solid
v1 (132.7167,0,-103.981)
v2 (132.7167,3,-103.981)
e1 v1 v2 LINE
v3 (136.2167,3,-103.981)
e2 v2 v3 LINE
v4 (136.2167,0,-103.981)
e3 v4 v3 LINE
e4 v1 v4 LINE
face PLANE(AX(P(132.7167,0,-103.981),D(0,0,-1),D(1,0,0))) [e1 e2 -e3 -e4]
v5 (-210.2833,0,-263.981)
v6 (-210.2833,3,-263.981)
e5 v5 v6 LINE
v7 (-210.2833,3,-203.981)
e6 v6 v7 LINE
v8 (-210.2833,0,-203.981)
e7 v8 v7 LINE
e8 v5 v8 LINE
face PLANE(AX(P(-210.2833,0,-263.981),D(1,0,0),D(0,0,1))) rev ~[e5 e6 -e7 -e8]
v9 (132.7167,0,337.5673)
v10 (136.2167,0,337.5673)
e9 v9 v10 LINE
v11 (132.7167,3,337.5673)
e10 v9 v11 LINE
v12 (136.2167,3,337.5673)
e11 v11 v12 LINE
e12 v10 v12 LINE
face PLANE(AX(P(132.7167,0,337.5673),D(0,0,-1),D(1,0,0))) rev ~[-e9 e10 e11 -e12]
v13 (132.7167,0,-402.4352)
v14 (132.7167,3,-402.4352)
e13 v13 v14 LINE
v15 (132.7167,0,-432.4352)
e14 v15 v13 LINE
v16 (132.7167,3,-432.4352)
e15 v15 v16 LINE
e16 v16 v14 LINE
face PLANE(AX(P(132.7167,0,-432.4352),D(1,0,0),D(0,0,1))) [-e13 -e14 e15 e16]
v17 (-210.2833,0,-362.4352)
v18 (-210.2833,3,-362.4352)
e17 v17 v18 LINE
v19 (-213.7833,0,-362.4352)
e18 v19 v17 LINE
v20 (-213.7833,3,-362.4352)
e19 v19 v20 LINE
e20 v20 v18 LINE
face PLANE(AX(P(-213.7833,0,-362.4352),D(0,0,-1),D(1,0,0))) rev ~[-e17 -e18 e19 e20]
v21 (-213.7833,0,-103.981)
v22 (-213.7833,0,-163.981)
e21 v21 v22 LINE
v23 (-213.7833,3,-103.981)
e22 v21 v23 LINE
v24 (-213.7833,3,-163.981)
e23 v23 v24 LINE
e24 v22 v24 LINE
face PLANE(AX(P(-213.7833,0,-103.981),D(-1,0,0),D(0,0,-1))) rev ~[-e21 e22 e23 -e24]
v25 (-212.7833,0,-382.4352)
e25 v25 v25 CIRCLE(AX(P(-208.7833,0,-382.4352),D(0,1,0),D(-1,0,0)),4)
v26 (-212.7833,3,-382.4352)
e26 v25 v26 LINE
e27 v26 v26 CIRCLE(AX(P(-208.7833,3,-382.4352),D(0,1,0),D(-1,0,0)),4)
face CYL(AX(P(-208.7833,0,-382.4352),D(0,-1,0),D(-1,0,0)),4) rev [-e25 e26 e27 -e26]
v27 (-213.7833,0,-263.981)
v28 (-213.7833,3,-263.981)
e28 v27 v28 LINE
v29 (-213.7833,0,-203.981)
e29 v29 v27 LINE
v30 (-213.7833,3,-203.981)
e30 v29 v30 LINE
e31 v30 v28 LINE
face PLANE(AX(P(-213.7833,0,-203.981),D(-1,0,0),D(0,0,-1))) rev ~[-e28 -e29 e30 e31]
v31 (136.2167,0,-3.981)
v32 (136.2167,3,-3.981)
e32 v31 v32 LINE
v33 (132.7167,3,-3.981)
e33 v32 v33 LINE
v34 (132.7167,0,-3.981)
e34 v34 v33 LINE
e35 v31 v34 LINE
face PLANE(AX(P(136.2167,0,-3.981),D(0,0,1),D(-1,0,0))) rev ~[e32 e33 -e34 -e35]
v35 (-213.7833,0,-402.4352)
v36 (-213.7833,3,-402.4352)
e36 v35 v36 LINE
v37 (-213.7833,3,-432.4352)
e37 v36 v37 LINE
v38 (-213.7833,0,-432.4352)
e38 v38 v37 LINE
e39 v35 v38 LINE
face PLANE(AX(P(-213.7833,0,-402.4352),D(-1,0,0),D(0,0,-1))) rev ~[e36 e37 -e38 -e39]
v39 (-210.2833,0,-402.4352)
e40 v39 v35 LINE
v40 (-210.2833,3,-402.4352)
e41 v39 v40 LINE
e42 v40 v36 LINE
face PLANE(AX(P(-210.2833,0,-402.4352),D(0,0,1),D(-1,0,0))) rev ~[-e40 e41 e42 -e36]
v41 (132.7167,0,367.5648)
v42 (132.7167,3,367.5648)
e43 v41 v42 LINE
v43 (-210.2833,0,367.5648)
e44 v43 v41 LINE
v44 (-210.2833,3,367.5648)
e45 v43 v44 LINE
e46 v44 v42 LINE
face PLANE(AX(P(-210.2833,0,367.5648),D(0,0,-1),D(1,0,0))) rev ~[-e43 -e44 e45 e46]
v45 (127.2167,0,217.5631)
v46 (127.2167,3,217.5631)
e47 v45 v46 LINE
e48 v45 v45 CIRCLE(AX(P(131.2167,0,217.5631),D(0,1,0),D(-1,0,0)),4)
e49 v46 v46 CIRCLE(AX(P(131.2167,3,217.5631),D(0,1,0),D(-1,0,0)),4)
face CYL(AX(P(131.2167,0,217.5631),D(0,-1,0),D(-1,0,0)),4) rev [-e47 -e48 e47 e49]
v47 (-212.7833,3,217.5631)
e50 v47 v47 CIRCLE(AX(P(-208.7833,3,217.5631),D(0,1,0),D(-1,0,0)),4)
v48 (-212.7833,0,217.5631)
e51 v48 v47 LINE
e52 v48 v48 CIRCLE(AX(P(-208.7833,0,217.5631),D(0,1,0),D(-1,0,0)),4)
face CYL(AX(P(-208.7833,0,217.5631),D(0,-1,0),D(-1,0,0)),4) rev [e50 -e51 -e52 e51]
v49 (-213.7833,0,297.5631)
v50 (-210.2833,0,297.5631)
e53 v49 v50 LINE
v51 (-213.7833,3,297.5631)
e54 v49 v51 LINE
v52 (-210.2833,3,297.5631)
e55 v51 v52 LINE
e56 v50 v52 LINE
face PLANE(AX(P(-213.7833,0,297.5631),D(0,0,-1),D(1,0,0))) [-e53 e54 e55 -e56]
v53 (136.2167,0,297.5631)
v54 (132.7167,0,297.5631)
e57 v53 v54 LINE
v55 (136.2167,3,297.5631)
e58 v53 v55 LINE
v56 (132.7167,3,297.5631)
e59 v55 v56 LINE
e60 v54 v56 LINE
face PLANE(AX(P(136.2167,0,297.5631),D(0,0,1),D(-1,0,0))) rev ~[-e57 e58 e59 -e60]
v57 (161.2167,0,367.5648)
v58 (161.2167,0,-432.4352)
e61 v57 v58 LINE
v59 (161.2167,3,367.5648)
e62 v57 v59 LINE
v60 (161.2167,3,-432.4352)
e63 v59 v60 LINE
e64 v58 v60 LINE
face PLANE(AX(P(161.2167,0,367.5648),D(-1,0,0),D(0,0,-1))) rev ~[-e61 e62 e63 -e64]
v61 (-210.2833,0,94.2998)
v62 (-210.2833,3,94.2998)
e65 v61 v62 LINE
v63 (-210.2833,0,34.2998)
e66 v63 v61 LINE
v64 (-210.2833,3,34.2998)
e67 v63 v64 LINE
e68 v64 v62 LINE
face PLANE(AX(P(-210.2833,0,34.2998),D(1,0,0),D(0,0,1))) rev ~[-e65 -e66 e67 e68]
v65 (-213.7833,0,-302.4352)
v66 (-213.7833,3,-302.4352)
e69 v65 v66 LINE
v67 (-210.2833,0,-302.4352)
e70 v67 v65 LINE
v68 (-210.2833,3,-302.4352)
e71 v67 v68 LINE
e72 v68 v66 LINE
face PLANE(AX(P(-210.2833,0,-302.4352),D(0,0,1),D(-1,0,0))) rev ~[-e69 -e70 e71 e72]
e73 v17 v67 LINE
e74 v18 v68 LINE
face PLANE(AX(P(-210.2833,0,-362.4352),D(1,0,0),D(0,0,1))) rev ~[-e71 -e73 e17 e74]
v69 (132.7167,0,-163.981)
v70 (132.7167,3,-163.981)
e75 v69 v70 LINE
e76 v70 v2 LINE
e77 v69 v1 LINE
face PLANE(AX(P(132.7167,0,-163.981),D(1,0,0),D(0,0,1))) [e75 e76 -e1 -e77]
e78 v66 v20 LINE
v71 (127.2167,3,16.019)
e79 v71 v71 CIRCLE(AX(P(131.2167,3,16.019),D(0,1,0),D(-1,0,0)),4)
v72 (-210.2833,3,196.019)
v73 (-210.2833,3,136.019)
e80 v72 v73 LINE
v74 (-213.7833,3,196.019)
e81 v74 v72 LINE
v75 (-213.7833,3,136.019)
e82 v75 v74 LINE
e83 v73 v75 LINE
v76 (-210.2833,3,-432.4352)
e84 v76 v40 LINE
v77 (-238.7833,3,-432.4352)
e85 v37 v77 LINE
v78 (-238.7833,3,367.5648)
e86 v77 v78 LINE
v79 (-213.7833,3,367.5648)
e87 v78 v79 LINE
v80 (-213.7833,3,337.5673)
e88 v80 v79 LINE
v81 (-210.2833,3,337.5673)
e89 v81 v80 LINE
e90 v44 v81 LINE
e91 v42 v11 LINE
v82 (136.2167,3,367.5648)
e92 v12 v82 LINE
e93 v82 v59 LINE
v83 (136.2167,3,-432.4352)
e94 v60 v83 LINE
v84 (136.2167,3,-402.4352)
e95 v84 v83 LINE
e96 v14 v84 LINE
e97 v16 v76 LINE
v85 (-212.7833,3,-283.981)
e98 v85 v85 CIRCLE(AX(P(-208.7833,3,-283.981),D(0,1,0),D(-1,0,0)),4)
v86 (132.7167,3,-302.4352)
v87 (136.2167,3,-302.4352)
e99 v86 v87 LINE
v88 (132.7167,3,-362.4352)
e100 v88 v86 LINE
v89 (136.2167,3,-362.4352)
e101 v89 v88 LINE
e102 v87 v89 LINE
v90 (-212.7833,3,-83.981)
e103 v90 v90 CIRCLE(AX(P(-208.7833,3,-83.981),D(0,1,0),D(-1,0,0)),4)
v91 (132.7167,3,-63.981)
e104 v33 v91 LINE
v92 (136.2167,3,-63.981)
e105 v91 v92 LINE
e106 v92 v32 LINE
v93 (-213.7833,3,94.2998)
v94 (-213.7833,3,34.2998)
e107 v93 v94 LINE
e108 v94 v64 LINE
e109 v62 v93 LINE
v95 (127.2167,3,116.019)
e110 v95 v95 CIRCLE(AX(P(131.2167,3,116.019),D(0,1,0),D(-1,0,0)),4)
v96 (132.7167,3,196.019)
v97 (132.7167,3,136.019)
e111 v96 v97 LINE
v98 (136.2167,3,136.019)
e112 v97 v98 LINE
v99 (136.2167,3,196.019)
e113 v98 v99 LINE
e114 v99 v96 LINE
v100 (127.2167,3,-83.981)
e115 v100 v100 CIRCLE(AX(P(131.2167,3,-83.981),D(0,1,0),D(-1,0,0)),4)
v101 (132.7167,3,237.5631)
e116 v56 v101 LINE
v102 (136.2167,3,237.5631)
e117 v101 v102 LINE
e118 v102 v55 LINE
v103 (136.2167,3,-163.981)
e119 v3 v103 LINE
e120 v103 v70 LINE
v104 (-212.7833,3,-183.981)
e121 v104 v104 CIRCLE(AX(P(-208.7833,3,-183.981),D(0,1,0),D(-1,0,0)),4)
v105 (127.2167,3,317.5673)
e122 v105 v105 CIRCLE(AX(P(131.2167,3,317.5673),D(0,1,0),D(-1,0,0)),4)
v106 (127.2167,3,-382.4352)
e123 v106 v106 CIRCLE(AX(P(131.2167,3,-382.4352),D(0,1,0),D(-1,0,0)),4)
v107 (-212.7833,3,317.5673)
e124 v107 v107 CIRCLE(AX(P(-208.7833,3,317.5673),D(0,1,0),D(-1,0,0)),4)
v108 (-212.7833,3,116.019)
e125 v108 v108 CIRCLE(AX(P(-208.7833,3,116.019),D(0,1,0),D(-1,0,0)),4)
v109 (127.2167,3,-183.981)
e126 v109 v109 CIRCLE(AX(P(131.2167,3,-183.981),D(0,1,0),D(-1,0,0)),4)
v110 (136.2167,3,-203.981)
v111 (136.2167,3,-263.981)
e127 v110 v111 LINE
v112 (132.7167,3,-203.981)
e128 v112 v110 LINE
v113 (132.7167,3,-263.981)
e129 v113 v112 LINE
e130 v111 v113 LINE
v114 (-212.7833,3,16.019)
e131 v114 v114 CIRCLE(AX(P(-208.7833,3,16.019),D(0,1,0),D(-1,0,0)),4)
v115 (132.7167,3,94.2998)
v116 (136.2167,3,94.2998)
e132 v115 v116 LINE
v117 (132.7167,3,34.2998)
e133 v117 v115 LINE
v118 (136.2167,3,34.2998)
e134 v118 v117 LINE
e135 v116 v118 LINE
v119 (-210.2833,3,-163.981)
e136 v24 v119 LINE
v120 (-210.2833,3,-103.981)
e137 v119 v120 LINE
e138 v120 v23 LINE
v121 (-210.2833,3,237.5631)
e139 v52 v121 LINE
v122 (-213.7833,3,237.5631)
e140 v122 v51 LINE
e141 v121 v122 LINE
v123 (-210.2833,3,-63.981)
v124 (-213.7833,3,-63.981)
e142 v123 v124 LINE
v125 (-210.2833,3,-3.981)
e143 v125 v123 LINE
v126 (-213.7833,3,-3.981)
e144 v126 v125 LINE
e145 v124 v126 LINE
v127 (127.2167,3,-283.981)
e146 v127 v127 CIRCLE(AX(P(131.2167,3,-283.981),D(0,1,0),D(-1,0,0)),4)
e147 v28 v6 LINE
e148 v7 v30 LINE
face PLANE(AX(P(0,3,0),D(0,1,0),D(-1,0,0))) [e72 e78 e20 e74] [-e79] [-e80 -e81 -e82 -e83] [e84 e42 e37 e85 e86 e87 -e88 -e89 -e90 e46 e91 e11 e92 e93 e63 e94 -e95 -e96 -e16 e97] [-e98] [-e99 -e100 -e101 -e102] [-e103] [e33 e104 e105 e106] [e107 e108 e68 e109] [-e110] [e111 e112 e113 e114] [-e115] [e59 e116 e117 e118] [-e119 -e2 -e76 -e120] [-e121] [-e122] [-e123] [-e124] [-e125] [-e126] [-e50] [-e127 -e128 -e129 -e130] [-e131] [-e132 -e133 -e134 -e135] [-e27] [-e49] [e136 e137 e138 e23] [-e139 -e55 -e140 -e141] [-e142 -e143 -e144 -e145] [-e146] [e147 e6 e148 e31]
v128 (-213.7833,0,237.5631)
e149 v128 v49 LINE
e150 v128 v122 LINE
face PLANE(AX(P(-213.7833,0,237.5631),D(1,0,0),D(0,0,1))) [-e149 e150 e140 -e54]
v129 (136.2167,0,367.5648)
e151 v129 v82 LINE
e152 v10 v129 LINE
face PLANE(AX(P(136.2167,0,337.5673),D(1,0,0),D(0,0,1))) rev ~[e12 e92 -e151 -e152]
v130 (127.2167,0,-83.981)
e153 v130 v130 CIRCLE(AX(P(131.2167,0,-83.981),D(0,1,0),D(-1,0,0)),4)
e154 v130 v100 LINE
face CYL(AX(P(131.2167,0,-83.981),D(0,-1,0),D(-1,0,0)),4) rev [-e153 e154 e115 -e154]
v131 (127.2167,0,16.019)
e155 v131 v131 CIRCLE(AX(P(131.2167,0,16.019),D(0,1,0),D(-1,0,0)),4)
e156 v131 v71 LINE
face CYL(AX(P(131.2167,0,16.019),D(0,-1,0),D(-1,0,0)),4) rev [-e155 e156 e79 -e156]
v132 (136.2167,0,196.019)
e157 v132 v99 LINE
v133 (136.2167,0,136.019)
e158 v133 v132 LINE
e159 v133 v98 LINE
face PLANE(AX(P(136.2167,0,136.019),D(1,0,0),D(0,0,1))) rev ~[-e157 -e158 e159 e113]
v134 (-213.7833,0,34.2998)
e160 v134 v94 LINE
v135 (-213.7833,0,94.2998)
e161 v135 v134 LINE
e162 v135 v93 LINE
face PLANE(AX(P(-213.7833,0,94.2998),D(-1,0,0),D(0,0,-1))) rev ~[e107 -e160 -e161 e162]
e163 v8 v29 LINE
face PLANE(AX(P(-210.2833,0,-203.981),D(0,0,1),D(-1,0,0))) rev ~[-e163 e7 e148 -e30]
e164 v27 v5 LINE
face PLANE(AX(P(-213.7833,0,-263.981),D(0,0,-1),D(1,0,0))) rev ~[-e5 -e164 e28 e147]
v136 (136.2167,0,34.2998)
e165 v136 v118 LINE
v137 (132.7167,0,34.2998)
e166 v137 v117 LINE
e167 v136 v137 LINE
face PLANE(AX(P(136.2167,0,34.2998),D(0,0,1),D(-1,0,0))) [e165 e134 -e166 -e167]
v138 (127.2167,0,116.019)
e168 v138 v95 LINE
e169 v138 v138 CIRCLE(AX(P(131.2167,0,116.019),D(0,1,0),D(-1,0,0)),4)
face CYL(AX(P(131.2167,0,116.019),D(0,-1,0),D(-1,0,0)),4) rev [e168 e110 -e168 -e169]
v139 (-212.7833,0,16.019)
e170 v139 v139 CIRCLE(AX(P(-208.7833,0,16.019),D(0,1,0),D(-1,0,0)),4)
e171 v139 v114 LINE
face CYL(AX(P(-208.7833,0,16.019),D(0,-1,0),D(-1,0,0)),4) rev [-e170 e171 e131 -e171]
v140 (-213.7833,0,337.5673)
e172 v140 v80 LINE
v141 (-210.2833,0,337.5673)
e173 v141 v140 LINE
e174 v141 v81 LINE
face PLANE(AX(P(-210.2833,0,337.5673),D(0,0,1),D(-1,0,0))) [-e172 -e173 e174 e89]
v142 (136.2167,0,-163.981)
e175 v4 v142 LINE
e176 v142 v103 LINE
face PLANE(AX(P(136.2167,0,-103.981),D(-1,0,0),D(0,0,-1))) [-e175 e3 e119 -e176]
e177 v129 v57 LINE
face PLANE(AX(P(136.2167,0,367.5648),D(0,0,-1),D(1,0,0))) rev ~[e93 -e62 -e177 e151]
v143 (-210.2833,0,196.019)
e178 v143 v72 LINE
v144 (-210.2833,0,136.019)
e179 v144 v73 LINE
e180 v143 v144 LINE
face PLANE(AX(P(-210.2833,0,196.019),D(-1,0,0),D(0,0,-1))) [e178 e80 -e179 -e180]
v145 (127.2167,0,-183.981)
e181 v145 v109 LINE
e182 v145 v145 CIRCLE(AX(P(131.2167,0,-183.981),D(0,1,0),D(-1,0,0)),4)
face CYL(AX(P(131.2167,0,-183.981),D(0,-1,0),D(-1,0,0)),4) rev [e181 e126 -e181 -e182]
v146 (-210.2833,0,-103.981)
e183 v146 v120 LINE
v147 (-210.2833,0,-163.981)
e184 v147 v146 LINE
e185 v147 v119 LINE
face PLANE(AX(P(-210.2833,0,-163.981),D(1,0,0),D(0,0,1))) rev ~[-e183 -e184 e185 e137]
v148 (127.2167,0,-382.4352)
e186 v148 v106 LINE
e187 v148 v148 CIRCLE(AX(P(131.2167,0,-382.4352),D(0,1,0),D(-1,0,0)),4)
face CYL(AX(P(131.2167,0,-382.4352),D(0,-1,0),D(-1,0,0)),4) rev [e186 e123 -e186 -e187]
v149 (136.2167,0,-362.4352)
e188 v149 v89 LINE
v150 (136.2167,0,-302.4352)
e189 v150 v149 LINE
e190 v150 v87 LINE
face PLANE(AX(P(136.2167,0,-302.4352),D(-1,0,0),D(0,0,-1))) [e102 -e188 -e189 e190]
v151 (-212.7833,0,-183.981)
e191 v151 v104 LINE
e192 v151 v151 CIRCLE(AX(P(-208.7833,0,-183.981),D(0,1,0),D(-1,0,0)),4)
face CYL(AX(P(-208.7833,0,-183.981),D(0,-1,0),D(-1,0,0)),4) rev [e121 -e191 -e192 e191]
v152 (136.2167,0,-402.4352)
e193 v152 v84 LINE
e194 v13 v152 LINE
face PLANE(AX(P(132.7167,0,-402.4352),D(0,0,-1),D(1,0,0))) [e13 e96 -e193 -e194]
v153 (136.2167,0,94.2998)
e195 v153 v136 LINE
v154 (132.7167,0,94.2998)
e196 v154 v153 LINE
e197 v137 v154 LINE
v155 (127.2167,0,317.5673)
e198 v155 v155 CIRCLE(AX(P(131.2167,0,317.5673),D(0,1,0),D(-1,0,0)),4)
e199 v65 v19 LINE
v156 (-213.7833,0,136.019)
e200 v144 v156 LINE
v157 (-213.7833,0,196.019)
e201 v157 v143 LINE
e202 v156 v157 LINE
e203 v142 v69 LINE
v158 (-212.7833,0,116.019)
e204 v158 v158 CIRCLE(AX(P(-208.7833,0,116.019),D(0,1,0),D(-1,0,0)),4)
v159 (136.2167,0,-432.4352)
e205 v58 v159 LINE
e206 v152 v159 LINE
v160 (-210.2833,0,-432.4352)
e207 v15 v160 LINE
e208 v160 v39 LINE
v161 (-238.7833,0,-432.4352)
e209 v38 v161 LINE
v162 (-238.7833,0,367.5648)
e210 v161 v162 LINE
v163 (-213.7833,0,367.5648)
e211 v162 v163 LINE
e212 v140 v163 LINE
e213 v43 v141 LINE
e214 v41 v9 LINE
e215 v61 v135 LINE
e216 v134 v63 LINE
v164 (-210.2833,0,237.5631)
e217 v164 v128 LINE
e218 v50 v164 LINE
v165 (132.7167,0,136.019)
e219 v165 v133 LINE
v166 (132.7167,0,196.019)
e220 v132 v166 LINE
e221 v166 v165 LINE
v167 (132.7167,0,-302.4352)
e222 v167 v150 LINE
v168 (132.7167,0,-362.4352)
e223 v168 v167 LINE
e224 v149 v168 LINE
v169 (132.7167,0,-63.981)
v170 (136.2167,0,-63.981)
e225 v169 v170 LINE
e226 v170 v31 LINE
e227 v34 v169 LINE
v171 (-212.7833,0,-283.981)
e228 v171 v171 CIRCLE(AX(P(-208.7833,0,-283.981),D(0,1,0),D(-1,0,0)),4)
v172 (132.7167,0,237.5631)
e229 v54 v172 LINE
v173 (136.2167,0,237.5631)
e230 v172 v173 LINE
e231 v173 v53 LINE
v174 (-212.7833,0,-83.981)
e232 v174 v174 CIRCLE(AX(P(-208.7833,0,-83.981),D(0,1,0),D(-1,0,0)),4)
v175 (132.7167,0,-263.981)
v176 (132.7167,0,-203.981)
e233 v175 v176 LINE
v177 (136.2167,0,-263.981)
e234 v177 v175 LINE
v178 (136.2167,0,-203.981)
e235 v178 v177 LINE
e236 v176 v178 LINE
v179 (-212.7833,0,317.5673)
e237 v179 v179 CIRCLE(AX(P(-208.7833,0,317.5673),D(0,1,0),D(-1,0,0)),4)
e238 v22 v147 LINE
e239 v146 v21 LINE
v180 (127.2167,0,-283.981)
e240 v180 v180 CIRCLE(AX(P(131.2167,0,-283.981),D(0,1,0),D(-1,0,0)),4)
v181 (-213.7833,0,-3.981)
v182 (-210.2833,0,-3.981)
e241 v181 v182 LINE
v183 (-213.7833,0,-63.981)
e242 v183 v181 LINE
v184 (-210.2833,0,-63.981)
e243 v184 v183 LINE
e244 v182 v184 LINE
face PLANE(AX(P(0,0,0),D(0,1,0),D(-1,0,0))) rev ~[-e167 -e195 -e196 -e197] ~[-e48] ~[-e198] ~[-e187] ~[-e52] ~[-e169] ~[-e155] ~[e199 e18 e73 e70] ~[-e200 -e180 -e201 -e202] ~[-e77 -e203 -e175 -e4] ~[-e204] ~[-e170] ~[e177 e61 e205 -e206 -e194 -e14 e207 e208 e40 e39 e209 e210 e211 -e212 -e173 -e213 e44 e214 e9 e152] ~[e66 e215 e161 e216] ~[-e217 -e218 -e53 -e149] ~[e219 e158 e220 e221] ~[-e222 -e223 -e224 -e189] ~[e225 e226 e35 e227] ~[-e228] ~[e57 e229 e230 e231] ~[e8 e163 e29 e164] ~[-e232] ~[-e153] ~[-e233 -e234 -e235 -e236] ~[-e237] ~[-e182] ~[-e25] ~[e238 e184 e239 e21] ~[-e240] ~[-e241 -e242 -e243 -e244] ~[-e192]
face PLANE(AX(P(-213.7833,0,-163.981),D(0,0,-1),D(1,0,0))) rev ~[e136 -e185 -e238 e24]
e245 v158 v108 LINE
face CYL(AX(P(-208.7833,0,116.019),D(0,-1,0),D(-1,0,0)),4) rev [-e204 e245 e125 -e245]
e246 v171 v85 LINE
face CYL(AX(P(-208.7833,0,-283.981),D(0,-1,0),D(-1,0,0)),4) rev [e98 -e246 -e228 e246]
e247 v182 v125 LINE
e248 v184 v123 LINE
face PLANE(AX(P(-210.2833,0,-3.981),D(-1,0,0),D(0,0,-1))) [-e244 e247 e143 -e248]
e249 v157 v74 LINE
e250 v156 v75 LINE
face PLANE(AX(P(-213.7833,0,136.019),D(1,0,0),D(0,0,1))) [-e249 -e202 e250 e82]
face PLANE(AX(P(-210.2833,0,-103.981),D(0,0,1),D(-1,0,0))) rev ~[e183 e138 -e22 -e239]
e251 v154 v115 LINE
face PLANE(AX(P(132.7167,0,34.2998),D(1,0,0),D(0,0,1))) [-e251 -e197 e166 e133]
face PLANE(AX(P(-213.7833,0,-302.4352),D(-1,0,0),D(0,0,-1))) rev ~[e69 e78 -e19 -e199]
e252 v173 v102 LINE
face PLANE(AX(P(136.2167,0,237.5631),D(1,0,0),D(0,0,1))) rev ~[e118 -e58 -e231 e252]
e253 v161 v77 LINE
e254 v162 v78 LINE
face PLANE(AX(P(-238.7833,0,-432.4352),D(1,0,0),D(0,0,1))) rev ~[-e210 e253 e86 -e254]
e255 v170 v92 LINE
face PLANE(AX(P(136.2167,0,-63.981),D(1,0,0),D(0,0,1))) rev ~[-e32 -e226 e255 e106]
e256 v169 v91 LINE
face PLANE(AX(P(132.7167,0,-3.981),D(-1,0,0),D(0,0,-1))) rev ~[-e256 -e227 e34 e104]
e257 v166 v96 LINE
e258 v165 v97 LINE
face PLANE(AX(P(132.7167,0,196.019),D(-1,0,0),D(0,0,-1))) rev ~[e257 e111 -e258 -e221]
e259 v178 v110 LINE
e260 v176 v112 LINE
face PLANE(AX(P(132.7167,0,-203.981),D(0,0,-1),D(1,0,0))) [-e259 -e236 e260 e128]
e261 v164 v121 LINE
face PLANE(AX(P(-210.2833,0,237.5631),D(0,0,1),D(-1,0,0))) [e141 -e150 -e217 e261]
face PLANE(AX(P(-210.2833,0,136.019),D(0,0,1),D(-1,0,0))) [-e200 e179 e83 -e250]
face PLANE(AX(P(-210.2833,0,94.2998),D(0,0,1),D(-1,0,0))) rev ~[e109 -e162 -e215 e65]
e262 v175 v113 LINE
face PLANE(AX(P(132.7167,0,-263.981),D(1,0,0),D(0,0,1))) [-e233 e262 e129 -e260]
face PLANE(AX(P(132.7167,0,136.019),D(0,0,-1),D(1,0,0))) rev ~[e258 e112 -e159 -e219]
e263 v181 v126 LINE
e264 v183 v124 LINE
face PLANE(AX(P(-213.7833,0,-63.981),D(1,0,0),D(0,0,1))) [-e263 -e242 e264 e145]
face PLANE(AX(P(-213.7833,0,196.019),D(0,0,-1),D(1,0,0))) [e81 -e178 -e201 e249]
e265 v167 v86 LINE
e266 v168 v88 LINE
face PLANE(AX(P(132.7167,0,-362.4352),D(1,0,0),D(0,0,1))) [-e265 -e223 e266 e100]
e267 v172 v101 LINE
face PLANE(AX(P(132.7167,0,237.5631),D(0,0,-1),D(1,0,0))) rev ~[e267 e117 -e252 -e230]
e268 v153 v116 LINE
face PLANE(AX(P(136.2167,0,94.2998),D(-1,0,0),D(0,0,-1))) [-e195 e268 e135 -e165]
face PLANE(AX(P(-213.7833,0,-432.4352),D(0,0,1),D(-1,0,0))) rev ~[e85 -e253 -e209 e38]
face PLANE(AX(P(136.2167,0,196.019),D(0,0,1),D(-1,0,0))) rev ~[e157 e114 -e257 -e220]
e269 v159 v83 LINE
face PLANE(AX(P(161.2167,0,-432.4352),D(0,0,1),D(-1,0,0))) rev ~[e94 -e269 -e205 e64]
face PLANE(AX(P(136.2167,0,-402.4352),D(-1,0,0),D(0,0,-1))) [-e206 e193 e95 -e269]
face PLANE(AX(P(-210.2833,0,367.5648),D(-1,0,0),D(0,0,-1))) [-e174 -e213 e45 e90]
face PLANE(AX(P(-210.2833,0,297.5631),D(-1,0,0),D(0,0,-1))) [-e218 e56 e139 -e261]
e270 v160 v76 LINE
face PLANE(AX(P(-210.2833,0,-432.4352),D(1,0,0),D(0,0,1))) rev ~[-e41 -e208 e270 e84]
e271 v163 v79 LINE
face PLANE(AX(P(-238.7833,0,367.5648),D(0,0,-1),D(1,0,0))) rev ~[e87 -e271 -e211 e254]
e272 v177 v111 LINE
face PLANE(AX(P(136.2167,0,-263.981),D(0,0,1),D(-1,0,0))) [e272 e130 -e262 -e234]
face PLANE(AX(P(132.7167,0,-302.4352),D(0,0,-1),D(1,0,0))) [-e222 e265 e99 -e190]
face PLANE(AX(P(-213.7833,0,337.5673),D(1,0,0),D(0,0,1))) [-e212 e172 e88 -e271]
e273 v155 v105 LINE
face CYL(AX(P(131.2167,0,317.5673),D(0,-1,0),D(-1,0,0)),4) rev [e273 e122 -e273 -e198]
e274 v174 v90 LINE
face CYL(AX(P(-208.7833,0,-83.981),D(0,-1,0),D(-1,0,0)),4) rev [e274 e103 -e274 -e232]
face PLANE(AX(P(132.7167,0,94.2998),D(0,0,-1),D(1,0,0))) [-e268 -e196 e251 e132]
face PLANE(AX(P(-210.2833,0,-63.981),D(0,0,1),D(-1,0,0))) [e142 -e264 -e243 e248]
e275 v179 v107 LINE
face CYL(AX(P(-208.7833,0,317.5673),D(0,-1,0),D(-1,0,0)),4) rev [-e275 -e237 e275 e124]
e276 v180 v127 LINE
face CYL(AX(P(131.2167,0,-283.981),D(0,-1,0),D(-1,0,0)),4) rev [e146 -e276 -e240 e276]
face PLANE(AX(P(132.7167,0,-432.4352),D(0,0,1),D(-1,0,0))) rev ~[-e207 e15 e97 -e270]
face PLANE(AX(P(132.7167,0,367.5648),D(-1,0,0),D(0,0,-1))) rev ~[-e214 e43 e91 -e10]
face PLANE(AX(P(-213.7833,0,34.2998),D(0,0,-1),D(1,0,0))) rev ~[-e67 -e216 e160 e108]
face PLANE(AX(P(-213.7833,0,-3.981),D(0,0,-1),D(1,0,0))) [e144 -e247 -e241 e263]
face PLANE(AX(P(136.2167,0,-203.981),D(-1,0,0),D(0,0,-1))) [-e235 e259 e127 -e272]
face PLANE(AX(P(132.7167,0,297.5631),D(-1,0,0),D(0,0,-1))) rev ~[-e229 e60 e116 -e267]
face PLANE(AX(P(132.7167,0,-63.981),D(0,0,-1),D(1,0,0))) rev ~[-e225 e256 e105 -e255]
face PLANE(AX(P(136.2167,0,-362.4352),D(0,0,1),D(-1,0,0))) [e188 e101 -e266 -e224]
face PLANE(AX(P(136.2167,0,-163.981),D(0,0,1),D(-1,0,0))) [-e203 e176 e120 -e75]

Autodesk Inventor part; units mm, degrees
ref_plane "YZ Plane" through (0, 0, 0) normal (1, 0, 0) x (0, 1, 0)
ref_plane "XZ Plane" through (0, 0, 0) normal (0, 1, 0) x (-1, 0, 0)
ref_plane "XY Plane" through (0, 0, 0) normal (0, 0, 1) x (1, 0, 0)
sketch "Sketch2" plane through (0, 0, 0) normal (0, 1, 0) x (-1, 0, 0)
  line L0 (238.7833, 367.5648) -> (-161.2167, 367.5648)
  line L1 (-161.2167, 367.5648) -> (-161.2167, -432.4352)
  line L2 (-161.2167, -432.4352) -> (238.7833, -432.4352)
  line L3 (238.7833, -432.4352) -> (238.7833, 367.5648)
  circle A0 centre (208.7833, 217.5631) radius 4
  circle A1 centre (208.7833, 317.5673) radius 4
  circle A2 centre (208.7833, -382.4352) radius 4
  circle A3 centre (208.7833, -283.981) radius 4
  circle A4 centre (208.7833, -183.981) radius 4
  circle A5 centre (208.7833, -83.981) radius 4
  circle A6 centre (208.7833, 16.019) radius 4
  circle A7 centre (208.7833, 116.019) radius 4
  line L4 (38.7833, -432.4352) -> (38.7833, 367.5648) construction
  line L5 (208.7833, 217.5631) -> (208.7833, 317.5673) construction
  line L6 (208.7833, 317.5673) -> (208.7833, 367.5648) construction
  line L7 (208.7833, -382.4352) -> (208.7833, -432.4352) construction
  line L8 (208.7833, -382.4352) -> (208.7833, 217.5631) construction
  line L9 (213.7833, -263.981) -> (210.2833, -263.981)
  line L10 (210.2833, -263.981) -> (210.2833, -203.981)
  line L11 (210.2833, -203.981) -> (213.7833, -203.981)
  line L12 (213.7833, -203.981) -> (213.7833, -263.981)
  line L13 (213.7833, 196.019) -> (210.2833, 196.019)
  line L14 (210.2833, 196.019) -> (210.2833, 136.019)
  line L15 (210.2833, 136.019) -> (213.7833, 136.019)
  line L16 (213.7833, 136.019) -> (213.7833, 196.019)
  line L17 (213.7833, -3.981) -> (210.2833, -3.981)
  line L18 (210.2833, -3.981) -> (210.2833, -63.981)
  line L19 (210.2833, -63.981) -> (213.7833, -63.981)
  line L20 (213.7833, -63.981) -> (213.7833, -3.981)
  line L21 (213.7833, 34.2998) -> (210.2833, 34.2998)
  line L22 (210.2833, 34.2998) -> (210.2833, 94.2998)
  line L23 (210.2833, 94.2998) -> (213.7833, 94.2998)
  line L24 (213.7833, 94.2998) -> (213.7833, 34.2998)
  line L25 (213.7833, -163.981) -> (210.2833, -163.981)
  line L26 (210.2833, -163.981) -> (210.2833, -103.981)
  line L27 (210.2833, -103.981) -> (213.7833, -103.981)
  line L28 (213.7833, -103.981) -> (213.7833, -163.981)
  line L29 (213.7833, -362.4352) -> (210.2833, -362.4352)
  line L30 (210.2833, -362.4352) -> (210.2833, -302.4352)
  line L31 (210.2833, -302.4352) -> (213.7833, -302.4352)
  line L32 (213.7833, -302.4352) -> (213.7833, -362.4352)
  line L33 (210.2833, 237.5631) -> (213.7833, 237.5631)
  line L34 (213.7833, 237.5631) -> (213.7833, 297.5631)
  line L35 (213.7833, 297.5631) -> (210.2833, 297.5631)
  line L36 (210.2833, 297.5631) -> (210.2833, 237.5631)
  line L37 (210.2833, 337.5673) -> (213.7833, 337.5673)
  line L38 (213.7833, 337.5673) -> (213.7833, 367.5648)
  line L39 (213.7833, 367.5648) -> (210.2833, 367.5648)
  line L40 (210.2833, 367.5648) -> (210.2833, 337.5673)
  line L41 (213.7833, -432.4352) -> (210.2833, -432.4352)
  line L42 (210.2833, -432.4352) -> (210.2833, -402.4352)
  line L43 (210.2833, -402.4352) -> (213.7833, -402.4352)
  line L44 (213.7833, -402.4352) -> (213.7833, -432.4352)
  circle A8 centre (-131.2167, 217.5631) radius 4
  circle A9 centre (-131.2167, 317.5673) radius 4
  circle A10 centre (-131.2167, -382.4352) radius 4
  circle A11 centre (-131.2167, -283.981) radius 4
  circle A12 centre (-131.2167, -183.981) radius 4
  circle A13 centre (-131.2167, -83.981) radius 4
  circle A14 centre (-131.2167, 16.019) radius 4
  circle A15 centre (-131.2167, 116.019) radius 4
  line L45 (-131.2167, 217.5631) -> (-131.2167, 317.5673) construction
  line L46 (-131.2167, 317.5673) -> (-131.2167, 367.5648) construction
  line L47 (-131.2167, -382.4352) -> (-131.2167, -432.4352) construction
  line L48 (-131.2167, -382.4352) -> (-131.2167, 217.5631) construction
  line L49 (-136.2167, -263.981) -> (-132.7167, -263.981)
  line L50 (-132.7167, -263.981) -> (-132.7167, -203.981)
  line L51 (-132.7167, -203.981) -> (-136.2167, -203.981)
  line L52 (-136.2167, -203.981) -> (-136.2167, -263.981)
  line L53 (-136.2167, 196.019) -> (-132.7167, 196.019)
  line L54 (-132.7167, 196.019) -> (-132.7167, 136.019)
  line L55 (-132.7167, 136.019) -> (-136.2167, 136.019)
  line L56 (-136.2167, 136.019) -> (-136.2167, 196.019)
  line L57 (-136.2167, -3.981) -> (-132.7167, -3.981)
  line L58 (-132.7167, -3.981) -> (-132.7167, -63.981)
  line L59 (-132.7167, -63.981) -> (-136.2167, -63.981)
  line L60 (-136.2167, -63.981) -> (-136.2167, -3.981)
  line L61 (-136.2167, 34.2998) -> (-132.7167, 34.2998)
  line L62 (-132.7167, 34.2998) -> (-132.7167, 94.2998)
  line L63 (-132.7167, 94.2998) -> (-136.2167, 94.2998)
  line L64 (-136.2167, 94.2998) -> (-136.2167, 34.2998)
  line L65 (-136.2167, -163.981) -> (-132.7167, -163.981)
  line L66 (-132.7167, -163.981) -> (-132.7167, -103.981)
  line L67 (-132.7167, -103.981) -> (-136.2167, -103.981)
  line L68 (-136.2167, -103.981) -> (-136.2167, -163.981)
  line L69 (-136.2167, -362.4352) -> (-132.7167, -362.4352)
  line L70 (-132.7167, -362.4352) -> (-132.7167, -302.4352)
  line L71 (-132.7167, -302.4352) -> (-136.2167, -302.4352)
  line L72 (-136.2167, -302.4352) -> (-136.2167, -362.4352)
  line L73 (-132.7167, 237.5631) -> (-136.2167, 237.5631)
  line L74 (-136.2167, 237.5631) -> (-136.2167, 297.5631)
  line L75 (-136.2167, 297.5631) -> (-132.7167, 297.5631)
  line L76 (-132.7167, 297.5631) -> (-132.7167, 237.5631)
  line L77 (-132.7167, 337.5673) -> (-136.2167, 337.5673)
  line L78 (-136.2167, 337.5673) -> (-136.2167, 367.5648)
  line L79 (-132.7167, 367.5648) -> (-132.7167, 337.5673)
  line L80 (-132.7167, -432.4352) -> (-132.7167, -402.4352)
  line L81 (-132.7167, -402.4352) -> (-136.2167, -402.4352)
  line L82 (-136.2167, -402.4352) -> (-136.2167, -432.4352)
  point P0 (0, 0)
  dimension "d46" = 800
  dimension "d47" = 400
  dimension "d67" = 50
  dimension "d90" = 3.5
  dimension "d91" = 60
  dimension "d93" = 25
  dimension "d94" = 20
  dimension "d95" = 3.5
  dimension "d96" = 3.5
  dimension "d97" = 25
  dimension "d98" = 20
  dimension "d99" = 20
  dimension "d100" = 60
  dimension "d101" = 60
  dimension "d102" = 3.5
  dimension "d103" = 25
  dimension "d104" = 18.2808
  dimension "d105" = 60
  dimension "d106" = 25
  dimension "d107" = 3.5
  dimension "d108" = 20
  dimension "d109" = 60
  dimension "d110" = 3.5
  dimension "d111" = 60
  dimension "d112" = 20
  dimension "d113" = 25
  dimension "d114" = 3.5
  dimension "d115" = 25
  dimension "d116" = 20
  dimension "d117" = 60
  dimension "d118" = 3.5
  dimension "d119" = 25
  dimension "d120" = 20
  dimension "d121" = 3.5
  dimension "d123" = 25
  dimension "d124" = 20
extrude "Extrusion7" add sketch "Sketch2" along normal blind 3 contours L3 L2 L44 L43 L42 L80 L81 L82 L1 L0 L78 L77 L79 L40 L37 L38
properties part number "top_bottom_layer_3mm" material "Acrylic"
